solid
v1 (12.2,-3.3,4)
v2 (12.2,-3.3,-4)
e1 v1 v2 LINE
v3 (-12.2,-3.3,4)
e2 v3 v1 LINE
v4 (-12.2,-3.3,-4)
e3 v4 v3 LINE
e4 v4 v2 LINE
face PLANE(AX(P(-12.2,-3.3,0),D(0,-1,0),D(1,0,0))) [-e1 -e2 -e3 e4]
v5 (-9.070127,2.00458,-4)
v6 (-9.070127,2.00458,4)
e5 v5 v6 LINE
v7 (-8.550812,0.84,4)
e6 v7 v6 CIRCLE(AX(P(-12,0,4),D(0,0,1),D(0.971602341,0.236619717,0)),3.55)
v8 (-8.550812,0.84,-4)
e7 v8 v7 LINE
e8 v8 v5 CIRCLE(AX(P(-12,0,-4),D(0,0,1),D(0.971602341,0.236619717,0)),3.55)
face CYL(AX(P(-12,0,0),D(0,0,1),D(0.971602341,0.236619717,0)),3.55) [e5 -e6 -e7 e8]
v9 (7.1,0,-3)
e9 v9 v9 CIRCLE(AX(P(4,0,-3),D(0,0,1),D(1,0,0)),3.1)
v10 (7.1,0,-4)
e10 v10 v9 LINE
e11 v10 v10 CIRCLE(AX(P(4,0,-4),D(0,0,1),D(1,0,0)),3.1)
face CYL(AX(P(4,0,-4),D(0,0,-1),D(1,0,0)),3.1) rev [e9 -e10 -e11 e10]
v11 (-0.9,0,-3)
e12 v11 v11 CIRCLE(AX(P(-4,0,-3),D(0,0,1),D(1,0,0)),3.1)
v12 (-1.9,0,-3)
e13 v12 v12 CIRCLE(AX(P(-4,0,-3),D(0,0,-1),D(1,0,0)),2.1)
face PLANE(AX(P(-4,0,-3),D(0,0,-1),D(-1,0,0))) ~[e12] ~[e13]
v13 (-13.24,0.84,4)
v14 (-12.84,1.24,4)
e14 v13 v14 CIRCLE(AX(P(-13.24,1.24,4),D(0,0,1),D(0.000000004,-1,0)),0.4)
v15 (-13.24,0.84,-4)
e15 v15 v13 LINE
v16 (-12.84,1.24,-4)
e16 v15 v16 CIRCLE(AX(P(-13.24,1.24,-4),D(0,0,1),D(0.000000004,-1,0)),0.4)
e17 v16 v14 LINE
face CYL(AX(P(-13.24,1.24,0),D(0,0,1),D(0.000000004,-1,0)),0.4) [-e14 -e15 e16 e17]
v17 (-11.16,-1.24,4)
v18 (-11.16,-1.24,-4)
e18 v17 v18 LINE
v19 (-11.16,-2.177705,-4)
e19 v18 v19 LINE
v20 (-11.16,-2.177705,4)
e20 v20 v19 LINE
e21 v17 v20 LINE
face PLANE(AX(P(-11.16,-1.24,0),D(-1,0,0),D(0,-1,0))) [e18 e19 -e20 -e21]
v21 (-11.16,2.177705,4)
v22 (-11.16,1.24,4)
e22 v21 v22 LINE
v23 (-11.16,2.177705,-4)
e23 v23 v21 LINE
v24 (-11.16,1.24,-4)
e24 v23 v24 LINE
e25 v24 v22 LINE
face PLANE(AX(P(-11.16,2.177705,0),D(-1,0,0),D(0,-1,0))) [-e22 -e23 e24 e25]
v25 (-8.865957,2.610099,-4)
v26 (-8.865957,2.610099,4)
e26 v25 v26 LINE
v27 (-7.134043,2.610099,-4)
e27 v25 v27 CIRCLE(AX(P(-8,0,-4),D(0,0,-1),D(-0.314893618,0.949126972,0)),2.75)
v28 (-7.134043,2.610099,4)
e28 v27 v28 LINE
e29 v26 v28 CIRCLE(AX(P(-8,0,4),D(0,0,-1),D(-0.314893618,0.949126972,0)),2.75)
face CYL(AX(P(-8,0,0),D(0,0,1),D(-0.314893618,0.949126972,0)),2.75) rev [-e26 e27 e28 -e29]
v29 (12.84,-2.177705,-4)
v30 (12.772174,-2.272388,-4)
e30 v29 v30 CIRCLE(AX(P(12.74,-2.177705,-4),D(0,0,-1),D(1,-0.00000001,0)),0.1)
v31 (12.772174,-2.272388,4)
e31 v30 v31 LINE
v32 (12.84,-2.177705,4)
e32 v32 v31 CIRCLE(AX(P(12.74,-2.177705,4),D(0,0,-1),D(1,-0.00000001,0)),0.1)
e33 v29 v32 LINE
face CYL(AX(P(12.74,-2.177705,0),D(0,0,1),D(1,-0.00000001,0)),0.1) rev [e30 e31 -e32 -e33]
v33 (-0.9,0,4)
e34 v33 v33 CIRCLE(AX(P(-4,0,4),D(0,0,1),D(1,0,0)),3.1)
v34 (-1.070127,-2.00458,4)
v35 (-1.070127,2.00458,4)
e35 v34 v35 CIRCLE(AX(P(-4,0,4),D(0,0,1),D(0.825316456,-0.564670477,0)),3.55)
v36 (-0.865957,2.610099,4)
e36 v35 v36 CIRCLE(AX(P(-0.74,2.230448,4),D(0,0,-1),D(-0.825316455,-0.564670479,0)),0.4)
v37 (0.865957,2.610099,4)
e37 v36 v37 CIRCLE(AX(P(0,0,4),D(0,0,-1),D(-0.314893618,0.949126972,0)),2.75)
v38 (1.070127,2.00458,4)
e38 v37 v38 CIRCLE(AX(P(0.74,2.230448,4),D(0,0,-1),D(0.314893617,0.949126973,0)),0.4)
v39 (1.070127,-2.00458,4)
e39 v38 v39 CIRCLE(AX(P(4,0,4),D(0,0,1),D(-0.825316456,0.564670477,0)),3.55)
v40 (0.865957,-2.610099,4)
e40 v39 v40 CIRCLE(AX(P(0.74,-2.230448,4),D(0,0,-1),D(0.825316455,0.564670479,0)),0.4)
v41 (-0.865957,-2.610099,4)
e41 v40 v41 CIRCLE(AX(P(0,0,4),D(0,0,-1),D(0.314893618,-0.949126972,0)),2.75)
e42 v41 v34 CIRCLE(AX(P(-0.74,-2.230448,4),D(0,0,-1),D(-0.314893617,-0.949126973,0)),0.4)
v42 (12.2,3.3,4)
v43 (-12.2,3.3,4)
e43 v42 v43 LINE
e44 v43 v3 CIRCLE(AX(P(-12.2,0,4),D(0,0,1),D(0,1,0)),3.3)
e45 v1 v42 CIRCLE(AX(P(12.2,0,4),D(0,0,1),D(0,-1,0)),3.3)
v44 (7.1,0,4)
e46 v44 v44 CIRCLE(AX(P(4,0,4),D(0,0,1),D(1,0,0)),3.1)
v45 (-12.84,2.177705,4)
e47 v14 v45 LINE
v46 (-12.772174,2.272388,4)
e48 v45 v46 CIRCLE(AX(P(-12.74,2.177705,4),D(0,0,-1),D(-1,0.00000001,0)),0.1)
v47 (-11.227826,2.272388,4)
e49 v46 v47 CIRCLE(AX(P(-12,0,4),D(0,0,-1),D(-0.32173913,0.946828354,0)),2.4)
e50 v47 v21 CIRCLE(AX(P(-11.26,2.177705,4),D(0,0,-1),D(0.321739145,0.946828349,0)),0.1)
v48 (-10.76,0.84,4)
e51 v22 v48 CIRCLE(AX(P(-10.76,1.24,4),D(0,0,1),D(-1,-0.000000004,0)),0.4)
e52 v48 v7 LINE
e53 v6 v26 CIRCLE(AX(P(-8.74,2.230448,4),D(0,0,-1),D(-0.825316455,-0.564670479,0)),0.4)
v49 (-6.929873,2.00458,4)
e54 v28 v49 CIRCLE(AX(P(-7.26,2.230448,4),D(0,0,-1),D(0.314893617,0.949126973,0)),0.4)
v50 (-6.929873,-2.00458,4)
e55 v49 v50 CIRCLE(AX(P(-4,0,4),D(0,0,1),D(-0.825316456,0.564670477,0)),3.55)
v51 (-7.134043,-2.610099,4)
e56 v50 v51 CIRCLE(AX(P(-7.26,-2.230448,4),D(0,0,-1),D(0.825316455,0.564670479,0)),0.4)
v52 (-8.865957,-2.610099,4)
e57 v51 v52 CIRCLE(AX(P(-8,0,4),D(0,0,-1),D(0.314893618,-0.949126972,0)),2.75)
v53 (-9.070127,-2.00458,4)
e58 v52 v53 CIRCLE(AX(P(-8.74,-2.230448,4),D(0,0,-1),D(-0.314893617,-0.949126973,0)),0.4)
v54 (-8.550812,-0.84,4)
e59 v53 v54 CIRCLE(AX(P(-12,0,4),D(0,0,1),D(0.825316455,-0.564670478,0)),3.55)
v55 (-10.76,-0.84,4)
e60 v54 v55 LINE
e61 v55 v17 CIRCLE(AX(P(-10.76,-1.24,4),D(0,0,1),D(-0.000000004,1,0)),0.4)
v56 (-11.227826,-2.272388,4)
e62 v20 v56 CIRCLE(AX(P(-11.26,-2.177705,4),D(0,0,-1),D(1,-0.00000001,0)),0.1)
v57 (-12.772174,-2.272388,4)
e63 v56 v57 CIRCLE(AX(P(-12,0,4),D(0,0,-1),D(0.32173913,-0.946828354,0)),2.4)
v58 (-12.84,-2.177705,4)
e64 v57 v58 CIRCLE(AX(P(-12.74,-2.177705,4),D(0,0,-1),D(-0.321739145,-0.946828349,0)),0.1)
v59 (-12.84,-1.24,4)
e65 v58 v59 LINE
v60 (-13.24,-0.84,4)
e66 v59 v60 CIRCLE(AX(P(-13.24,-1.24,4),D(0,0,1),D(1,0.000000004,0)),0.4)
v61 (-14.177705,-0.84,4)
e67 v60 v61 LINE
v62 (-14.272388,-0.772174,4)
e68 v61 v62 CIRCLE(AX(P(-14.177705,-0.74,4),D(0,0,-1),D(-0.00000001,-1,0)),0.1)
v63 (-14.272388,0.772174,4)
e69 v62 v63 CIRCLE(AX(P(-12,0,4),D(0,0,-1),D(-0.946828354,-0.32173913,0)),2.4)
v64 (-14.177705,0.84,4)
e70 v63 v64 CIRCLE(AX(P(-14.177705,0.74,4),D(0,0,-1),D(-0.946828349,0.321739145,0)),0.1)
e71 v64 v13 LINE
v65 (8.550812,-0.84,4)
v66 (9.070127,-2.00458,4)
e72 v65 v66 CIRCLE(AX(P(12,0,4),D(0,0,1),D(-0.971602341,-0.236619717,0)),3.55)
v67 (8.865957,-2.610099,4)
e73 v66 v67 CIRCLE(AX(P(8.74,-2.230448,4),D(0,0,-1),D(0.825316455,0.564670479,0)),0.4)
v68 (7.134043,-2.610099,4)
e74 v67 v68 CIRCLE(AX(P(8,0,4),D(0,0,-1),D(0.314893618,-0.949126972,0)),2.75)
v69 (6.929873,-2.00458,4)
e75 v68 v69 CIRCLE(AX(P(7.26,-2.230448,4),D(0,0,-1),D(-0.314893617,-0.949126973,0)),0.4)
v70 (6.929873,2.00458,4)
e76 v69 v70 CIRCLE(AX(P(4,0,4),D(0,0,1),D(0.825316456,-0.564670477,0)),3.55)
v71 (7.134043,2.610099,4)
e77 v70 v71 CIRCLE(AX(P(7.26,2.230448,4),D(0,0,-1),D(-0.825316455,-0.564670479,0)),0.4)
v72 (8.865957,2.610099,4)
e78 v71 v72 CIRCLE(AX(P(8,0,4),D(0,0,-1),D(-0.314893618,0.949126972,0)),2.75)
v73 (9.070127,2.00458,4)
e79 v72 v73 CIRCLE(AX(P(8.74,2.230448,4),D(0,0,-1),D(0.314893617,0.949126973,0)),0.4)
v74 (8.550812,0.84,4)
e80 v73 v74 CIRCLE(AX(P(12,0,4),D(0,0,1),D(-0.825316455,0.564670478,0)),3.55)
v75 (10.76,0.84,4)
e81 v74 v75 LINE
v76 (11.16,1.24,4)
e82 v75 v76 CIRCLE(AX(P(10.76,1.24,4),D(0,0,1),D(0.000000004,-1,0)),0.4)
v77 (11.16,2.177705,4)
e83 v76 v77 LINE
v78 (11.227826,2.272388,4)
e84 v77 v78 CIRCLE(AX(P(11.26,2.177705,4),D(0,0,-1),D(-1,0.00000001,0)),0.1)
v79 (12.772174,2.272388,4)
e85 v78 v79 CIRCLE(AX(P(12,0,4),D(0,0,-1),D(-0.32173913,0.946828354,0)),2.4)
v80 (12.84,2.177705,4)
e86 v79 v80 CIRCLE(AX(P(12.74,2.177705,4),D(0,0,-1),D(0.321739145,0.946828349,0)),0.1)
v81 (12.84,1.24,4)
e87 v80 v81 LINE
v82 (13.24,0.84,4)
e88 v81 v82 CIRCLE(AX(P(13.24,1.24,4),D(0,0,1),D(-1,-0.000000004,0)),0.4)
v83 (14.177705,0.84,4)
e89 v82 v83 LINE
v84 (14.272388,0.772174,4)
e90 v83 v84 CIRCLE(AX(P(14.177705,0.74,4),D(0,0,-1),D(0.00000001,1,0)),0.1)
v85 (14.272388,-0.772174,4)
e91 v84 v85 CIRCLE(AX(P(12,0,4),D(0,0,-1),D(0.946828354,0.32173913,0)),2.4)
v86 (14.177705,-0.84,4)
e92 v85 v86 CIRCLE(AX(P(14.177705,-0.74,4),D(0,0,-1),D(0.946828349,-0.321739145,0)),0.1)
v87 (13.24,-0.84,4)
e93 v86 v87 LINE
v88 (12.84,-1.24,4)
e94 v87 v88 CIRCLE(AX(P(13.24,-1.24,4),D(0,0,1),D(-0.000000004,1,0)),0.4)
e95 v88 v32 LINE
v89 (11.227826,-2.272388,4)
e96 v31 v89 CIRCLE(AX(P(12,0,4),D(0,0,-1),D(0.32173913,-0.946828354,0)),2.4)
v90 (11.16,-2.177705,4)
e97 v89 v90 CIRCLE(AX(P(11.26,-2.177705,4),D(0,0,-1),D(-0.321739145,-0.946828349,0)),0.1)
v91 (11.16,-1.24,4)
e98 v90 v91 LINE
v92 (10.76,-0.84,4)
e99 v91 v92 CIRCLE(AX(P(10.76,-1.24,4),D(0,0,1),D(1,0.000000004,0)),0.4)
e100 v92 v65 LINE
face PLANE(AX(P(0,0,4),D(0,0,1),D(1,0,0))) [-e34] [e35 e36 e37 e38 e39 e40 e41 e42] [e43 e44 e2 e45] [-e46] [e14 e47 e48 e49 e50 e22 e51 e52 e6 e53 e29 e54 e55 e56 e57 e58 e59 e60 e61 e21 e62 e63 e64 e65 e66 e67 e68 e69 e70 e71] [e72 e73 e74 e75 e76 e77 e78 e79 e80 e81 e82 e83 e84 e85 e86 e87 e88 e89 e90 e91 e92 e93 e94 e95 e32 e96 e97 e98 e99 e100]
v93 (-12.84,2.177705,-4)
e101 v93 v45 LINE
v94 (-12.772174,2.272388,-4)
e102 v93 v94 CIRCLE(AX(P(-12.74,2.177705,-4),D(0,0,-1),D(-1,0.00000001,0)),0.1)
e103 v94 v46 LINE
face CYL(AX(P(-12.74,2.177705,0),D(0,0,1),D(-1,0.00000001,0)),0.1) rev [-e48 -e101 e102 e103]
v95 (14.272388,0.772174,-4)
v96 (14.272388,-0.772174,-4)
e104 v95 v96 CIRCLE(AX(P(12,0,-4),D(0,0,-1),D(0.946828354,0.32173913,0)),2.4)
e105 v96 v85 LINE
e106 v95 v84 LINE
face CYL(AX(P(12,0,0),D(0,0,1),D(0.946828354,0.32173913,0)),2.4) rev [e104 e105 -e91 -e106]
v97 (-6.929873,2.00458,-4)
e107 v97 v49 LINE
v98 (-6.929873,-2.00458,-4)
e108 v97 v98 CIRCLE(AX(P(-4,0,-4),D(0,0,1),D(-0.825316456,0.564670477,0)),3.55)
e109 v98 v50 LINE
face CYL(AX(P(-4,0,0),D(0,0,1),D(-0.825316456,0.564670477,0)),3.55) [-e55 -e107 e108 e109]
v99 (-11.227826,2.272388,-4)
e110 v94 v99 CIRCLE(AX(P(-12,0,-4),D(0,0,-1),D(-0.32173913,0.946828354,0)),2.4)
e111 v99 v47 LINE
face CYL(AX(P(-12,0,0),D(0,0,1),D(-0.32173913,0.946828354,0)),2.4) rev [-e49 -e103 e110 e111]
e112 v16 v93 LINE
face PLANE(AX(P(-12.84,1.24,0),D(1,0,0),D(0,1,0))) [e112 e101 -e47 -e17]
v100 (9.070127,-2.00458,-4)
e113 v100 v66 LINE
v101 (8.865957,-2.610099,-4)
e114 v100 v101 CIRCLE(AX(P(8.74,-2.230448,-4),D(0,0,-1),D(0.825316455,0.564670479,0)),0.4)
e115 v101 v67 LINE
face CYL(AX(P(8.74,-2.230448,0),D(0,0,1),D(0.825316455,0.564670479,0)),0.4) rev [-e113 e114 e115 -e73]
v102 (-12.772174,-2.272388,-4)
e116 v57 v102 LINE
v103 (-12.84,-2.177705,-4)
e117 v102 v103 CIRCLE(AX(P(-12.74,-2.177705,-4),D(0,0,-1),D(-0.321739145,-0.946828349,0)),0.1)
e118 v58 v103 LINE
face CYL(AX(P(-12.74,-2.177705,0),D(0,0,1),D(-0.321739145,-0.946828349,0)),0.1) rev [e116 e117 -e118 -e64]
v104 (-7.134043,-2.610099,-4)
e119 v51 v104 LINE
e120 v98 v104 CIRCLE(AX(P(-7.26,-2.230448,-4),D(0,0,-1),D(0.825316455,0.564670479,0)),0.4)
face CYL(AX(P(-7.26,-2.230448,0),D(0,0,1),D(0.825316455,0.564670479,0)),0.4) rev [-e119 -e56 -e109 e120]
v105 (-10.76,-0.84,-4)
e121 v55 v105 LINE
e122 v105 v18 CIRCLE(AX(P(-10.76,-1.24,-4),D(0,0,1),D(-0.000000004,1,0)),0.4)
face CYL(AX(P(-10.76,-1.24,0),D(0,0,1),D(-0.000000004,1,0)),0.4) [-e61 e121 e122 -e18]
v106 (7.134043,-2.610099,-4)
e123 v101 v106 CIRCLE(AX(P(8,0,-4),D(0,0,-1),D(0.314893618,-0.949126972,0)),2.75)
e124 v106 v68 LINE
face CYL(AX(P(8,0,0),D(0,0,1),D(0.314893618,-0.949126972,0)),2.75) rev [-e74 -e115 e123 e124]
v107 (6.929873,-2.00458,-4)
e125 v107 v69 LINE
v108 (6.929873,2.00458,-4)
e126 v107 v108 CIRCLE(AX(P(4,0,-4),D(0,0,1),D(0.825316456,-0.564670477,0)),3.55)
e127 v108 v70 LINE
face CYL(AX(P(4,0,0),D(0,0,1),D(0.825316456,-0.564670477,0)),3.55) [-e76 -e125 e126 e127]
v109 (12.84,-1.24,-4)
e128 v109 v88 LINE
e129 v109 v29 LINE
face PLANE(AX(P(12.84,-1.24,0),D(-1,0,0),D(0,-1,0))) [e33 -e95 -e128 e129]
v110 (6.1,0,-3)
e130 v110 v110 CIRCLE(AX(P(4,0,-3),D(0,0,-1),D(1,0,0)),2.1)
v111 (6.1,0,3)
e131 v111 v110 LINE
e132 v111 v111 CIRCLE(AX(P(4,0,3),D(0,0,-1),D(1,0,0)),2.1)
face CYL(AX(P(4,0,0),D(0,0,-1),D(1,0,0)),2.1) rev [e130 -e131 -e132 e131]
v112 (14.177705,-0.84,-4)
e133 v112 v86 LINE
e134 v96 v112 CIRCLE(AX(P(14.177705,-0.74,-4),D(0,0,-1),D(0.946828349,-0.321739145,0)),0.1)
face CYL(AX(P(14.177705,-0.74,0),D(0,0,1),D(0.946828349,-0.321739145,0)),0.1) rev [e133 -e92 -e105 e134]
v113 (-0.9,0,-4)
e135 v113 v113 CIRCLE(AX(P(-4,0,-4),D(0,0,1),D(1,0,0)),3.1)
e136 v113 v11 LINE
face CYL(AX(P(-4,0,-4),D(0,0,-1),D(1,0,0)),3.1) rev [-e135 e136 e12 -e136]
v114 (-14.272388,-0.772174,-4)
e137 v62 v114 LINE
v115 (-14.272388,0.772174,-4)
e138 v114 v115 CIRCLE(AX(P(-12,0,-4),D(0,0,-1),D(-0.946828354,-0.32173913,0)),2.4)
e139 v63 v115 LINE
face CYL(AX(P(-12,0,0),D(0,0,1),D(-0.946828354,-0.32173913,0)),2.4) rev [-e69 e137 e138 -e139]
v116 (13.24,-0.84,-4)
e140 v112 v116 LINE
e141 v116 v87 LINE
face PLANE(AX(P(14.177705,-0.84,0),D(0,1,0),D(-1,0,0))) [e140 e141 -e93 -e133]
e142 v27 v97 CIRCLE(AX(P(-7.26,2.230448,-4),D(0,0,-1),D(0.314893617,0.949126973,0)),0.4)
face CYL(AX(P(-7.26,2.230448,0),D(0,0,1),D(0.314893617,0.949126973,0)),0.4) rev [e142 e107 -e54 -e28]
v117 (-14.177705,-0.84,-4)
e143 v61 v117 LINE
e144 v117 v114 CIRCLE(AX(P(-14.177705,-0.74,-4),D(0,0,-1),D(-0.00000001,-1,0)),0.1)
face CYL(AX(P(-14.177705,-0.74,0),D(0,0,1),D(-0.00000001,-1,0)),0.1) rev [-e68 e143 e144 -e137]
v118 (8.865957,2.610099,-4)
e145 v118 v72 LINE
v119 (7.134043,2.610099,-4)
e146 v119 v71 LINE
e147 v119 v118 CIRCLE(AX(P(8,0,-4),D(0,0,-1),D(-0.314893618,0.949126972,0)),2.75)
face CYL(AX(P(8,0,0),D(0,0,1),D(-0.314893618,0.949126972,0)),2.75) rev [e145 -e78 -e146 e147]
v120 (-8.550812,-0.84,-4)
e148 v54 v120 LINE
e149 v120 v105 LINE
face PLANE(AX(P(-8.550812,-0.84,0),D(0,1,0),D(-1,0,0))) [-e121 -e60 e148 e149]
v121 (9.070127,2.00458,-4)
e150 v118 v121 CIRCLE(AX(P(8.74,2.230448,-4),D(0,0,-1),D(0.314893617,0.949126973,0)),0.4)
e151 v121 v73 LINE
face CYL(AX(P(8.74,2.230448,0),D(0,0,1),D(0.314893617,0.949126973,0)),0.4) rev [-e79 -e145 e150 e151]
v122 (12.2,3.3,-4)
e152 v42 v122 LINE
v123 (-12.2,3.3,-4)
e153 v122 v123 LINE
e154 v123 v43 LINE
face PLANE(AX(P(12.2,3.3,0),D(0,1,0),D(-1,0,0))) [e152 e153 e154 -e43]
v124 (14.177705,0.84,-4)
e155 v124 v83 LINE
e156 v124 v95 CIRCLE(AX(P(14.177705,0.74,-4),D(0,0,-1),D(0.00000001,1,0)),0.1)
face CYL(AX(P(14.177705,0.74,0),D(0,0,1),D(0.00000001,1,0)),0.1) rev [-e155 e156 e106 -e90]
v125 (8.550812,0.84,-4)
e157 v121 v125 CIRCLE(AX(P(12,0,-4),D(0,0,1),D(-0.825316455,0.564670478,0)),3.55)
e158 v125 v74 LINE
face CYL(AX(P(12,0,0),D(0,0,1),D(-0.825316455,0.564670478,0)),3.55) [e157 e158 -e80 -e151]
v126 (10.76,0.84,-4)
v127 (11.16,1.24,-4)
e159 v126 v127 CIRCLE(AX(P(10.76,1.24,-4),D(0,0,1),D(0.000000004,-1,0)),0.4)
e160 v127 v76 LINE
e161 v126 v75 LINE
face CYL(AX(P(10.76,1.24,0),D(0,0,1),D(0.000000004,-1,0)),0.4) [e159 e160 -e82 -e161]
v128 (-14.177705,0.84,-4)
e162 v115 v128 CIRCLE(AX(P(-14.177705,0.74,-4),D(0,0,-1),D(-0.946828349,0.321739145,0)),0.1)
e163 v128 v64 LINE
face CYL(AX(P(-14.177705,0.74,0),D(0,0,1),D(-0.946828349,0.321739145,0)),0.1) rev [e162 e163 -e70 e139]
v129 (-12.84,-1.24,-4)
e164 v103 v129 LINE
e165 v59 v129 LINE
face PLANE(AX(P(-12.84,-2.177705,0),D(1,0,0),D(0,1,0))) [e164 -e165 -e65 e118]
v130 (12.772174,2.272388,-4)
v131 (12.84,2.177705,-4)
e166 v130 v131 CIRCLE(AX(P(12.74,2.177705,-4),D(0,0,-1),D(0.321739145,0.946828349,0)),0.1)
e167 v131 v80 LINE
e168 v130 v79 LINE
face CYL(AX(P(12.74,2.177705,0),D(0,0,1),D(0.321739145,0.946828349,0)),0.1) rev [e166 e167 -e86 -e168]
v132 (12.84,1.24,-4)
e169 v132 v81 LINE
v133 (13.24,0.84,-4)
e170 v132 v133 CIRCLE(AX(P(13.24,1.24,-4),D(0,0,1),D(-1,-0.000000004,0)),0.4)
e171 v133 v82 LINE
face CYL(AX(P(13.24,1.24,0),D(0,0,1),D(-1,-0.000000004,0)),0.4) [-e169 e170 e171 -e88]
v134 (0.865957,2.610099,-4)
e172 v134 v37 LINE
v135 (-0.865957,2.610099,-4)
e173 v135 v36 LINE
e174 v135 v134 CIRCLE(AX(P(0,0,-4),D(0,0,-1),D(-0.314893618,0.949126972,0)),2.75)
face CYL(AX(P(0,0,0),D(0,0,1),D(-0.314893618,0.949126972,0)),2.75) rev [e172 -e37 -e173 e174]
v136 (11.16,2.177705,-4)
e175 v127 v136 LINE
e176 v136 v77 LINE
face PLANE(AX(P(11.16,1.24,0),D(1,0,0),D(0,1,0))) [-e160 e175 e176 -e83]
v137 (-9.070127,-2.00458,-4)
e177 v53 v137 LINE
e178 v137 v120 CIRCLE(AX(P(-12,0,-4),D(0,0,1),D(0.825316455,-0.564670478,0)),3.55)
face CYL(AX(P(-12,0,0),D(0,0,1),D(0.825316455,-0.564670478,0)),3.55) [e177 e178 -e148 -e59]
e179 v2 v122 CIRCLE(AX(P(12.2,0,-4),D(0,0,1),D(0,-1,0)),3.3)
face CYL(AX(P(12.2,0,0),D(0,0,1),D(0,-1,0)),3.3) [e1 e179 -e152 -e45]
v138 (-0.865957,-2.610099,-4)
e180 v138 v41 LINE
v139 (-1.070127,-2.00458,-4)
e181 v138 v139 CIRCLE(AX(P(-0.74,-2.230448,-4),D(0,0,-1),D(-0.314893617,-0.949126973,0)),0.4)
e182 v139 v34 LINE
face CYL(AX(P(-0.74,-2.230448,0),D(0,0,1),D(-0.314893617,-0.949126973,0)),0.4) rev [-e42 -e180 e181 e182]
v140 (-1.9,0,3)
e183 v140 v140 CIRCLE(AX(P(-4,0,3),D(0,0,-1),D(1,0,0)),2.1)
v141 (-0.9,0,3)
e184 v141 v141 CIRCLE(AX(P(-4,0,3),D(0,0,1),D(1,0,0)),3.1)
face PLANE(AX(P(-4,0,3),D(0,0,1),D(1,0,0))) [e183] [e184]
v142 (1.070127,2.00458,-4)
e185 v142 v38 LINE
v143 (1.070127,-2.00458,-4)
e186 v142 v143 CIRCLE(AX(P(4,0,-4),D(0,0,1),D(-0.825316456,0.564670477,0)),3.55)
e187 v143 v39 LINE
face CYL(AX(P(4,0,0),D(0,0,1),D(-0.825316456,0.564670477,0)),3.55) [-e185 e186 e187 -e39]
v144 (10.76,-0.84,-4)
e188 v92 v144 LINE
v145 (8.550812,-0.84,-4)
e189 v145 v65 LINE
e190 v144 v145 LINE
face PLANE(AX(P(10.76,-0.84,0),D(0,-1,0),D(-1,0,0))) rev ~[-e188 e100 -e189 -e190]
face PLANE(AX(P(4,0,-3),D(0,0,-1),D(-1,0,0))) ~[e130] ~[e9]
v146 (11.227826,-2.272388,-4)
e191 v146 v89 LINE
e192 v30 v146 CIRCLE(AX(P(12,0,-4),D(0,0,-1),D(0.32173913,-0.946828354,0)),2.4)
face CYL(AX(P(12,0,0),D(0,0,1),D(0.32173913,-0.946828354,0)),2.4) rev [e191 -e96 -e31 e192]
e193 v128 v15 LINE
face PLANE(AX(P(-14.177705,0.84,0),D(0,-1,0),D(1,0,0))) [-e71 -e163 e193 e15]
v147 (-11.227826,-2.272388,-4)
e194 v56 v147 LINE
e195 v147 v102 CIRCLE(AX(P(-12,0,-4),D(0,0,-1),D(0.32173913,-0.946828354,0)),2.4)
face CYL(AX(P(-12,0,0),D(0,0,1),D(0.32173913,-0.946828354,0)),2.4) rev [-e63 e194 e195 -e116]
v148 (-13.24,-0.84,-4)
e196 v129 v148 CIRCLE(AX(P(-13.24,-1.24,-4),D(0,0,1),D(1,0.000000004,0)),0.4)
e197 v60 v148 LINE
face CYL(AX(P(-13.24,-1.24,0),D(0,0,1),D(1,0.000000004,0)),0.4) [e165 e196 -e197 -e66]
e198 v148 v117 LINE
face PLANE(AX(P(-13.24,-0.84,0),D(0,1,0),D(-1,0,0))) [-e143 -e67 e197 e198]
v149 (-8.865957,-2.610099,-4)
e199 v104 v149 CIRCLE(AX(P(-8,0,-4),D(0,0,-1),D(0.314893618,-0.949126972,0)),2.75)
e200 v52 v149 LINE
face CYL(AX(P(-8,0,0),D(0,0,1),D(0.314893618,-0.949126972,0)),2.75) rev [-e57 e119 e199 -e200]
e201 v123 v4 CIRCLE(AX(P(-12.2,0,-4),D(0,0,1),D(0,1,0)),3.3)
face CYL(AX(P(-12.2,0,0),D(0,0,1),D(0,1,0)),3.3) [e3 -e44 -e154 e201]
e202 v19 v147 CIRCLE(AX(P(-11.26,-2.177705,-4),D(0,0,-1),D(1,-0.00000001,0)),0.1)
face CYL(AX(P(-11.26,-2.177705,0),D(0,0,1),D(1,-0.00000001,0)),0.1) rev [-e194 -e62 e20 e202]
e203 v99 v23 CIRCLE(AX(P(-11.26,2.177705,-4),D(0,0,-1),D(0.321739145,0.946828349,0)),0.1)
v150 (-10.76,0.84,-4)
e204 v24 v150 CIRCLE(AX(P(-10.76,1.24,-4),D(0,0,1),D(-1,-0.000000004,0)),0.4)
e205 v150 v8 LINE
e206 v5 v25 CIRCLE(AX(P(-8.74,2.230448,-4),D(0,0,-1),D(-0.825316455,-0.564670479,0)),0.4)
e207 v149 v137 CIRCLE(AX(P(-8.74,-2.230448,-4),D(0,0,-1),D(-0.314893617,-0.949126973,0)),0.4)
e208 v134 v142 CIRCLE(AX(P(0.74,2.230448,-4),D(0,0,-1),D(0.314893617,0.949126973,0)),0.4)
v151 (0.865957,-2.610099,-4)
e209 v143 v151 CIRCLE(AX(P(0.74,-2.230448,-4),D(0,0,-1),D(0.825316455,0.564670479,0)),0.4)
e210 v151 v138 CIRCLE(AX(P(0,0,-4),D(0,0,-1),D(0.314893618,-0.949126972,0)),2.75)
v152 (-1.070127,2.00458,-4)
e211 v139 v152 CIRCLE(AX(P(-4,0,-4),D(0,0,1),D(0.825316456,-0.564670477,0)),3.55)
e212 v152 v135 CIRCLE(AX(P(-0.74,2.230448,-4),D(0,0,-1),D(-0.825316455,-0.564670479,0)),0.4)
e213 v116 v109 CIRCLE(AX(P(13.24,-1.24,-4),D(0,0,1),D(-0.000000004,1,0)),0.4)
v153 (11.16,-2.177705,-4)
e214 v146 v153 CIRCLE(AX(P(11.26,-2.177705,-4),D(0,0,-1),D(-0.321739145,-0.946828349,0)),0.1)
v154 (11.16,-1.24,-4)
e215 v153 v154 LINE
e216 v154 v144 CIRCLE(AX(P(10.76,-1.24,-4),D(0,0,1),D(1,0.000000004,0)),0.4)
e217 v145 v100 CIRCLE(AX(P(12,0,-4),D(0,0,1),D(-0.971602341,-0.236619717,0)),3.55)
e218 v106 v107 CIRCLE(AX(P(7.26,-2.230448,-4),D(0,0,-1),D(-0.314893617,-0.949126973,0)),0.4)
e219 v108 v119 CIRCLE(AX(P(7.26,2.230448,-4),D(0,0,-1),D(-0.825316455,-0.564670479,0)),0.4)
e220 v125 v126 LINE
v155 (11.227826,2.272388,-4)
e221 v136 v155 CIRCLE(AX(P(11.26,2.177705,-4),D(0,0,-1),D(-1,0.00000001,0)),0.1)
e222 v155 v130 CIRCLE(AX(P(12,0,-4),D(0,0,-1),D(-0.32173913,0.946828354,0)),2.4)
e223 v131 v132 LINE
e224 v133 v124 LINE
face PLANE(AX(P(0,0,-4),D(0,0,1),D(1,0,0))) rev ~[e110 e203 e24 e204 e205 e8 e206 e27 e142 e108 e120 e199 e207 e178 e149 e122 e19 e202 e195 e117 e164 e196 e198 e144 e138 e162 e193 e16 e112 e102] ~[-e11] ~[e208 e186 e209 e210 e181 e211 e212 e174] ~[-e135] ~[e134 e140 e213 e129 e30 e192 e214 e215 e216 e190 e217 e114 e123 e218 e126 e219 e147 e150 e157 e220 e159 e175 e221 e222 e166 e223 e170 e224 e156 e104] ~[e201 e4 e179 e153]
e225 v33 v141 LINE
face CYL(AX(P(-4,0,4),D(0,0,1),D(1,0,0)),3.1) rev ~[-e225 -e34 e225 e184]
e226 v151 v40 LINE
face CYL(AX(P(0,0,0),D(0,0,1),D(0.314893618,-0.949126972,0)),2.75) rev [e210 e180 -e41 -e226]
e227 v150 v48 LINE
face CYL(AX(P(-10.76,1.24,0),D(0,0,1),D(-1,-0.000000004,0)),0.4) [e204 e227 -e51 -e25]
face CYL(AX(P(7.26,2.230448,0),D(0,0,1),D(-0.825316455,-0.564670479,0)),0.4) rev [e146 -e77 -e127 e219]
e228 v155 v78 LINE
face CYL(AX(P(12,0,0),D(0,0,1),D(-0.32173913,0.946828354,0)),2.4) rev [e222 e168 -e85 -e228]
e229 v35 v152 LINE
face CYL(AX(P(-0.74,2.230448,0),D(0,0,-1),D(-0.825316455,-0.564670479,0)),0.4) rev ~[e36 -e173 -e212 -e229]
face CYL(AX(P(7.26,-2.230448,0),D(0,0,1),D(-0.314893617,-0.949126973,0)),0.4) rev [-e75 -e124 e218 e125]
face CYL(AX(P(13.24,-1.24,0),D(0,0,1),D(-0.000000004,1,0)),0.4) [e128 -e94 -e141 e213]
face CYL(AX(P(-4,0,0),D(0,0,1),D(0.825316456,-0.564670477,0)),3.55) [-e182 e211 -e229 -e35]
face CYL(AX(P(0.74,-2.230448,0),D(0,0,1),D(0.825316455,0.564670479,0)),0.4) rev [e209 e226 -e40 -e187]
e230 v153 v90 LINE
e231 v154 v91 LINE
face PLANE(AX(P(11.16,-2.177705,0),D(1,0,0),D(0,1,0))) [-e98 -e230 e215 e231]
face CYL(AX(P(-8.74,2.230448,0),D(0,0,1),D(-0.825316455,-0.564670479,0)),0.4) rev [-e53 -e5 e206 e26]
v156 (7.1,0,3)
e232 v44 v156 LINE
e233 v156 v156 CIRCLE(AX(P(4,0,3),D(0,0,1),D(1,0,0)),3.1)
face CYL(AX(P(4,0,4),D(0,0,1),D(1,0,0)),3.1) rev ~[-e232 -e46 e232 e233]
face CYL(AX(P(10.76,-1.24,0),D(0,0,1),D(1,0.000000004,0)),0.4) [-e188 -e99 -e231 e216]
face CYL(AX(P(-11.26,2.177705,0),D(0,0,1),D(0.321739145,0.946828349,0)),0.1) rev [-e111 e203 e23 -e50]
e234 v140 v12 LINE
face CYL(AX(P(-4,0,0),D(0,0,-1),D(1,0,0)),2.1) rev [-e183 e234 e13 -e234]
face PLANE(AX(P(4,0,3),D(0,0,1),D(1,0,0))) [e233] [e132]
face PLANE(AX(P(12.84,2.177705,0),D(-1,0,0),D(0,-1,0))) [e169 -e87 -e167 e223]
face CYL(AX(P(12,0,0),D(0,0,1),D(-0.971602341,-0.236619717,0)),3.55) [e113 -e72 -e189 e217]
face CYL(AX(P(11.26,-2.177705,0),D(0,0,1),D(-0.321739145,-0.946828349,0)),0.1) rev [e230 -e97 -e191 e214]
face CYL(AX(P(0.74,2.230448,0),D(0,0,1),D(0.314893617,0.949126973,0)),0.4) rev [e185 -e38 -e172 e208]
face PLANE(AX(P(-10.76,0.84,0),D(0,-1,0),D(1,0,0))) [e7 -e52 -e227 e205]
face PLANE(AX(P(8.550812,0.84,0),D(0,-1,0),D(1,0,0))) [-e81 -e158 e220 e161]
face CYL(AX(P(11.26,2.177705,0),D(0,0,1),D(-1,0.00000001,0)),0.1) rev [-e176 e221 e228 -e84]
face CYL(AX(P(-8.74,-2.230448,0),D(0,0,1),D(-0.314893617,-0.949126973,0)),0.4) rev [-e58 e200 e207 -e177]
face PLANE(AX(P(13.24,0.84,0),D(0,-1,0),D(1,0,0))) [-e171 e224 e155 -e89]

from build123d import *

# Parameters (mm, degrees)
SKETCH1_R           = 2.1
BOSS_EXTRUDE1_DEPTH = 4
SKETCH2_R           = 3.1
CUT_EXTRUDE1_DEPTH  = 1


with BuildPart() as part:
    # Sketch1 → Boss-Extrude1 (new, symmetric)
    with BuildSketch(Plane.XY):
        with BuildLine():
            Line((12.2, 3.3), (-12.2, 3.3))
            ThreePointArc((-12.2, 3.3), (-15.5, 0), (-12.2, -3.3))
            Line((-12.2, -3.3), (12.2, -3.3))
            ThreePointArc((12.2, -3.3), (15.5, 0), (12.2, 3.3))
        make_face()
        with BuildLine():
            Line((-14.177705214, 0.84), (-13.24, 0.84))
            ThreePointArc((-13.24, 0.84), (-12.957157288, 0.957157288), (-12.84, 1.24))
            Line((-12.84, 1.24), (-12.84, 2.177705214))
            ThreePointArc((-12.84, 2.177705214), (-12.821293884, 2.235940121), (-12.772173913, 2.27238805))
            ThreePointArc((-12.772173913, 2.27238805), (-12, 2.4), (-11.227826087, 2.27238805))
            ThreePointArc((-11.227826087, 2.27238805), (-11.178706116, 2.235940121), (-11.16, 2.177705214))
            Line((-11.16, 2.177705214), (-11.16, 1.24))
            ThreePointArc((-11.16, 1.24), (-11.042842712, 0.957157288), (-10.76, 0.84))
            Line((-10.76, 0.84), (-9.822294786, 0.84))
            Line((-9.822294786, 0.84), (-9.751800721, 0.84))
            Line((-9.751800721, 0.84), (-8.55081169, 0.84))
            ThreePointArc((-8.55081169, 0.84), (-8.757752494, 1.445797742), (-9.070126582, 2.004580194))
            ThreePointArc((-9.070126582, 2.004580194), (-9.119033599, 2.358251088), (-8.865957447, 2.610099174))
            ThreePointArc((-8.865957447, 2.610099174), (-8, 2.75), (-7.134042553, 2.610099174))
            ThreePointArc((-7.134042553, 2.610099174), (-6.880966401, 2.358251088), (-6.929873418, 2.004580194))
            ThreePointArc((-6.929873418, 2.004580194), (-7.55, 0), (-6.929873418, -2.004580194))
            ThreePointArc((-6.929873418, -2.004580194), (-6.880966401, -2.358251088), (-7.134042553, -2.610099174))
            ThreePointArc((-7.134042553, -2.610099174), (-8, -2.75), (-8.865957447, -2.610099174))
            ThreePointArc((-8.865957447, -2.610099174), (-9.119033599, -2.358251088), (-9.070126582, -2.004580194))
            ThreePointArc((-9.070126582, -2.004580194), (-8.757752494, -1.445797742), (-8.55081169, -0.84))
            Line((-8.55081169, -0.84), (-9.751800721, -0.84))
            Line((-9.751800721, -0.84), (-9.822294786, -0.84))
            Line((-9.822294786, -0.84), (-10.76, -0.84))
            ThreePointArc((-10.76, -0.84), (-11.042842712, -0.957157288), (-11.16, -1.24))
            Line((-11.16, -1.24), (-11.16, -2.177705214))
            ThreePointArc((-11.16, -2.177705214), (-11.178706116, -2.235940121), (-11.227826087, -2.27238805))
            ThreePointArc((-11.227826087, -2.27238805), (-12, -2.4), (-12.772173913, -2.27238805))
            ThreePointArc((-12.772173913, -2.27238805), (-12.821293884, -2.235940121), (-12.84, -2.177705214))
            Line((-12.84, -2.177705214), (-12.84, -1.24))
            ThreePointArc((-12.84, -1.24), (-12.957157288, -0.957157288), (-13.24, -0.84))
            Line((-13.24, -0.84), (-14.177705214, -0.84))
            ThreePointArc((-14.177705214, -0.84), (-14.235940121, -0.821293884), (-14.27238805, -0.772173913))
            ThreePointArc((-14.27238805, -0.772173913), (-14.4, 0), (-14.27238805, 0.772173913))
            ThreePointArc((-14.27238805, 0.772173913), (-14.235940121, 0.821293884), (-14.177705214, 0.84))
        make_face(mode=Mode.SUBTRACT)
        with BuildLine():
            ThreePointArc((0.865957447, -2.610099174), (0, -2.75), (-0.865957447, -2.610099174))
            ThreePointArc((-0.865957447, -2.610099174), (-1.119033599, -2.358251088), (-1.070126582, -2.004580194))
            ThreePointArc((-1.070126582, -2.004580194), (-0.45, 0), (-1.070126582, 2.004580194))
            ThreePointArc((-1.070126582, 2.004580194), (-1.119033599, 2.358251088), (-0.865957447, 2.610099174))
            ThreePointArc((-0.865957447, 2.610099174), (0, 2.75), (0.865957447, 2.610099174))
            ThreePointArc((0.865957447, 2.610099174), (1.119033599, 2.358251088), (1.070126582, 2.004580194))
            ThreePointArc((1.070126582, 2.004580194), (0.45, 0), (1.070126582, -2.004580194))
            ThreePointArc((1.070126582, -2.004580194), (1.119033599, -2.358251088), (0.865957447, -2.610099174))
        make_face(mode=Mode.SUBTRACT)
        with BuildLine():
            Line((12.84, 2.177705214), (12.84, 1.24))
            ThreePointArc((12.84, 1.24), (12.957157288, 0.957157288), (13.24, 0.84))
            Line((13.24, 0.84), (14.177705214, 0.84))
            ThreePointArc((14.177705214, 0.84), (14.235940121, 0.821293884), (14.27238805, 0.772173913))
            ThreePointArc((14.27238805, 0.772173913), (14.4, 0), (14.27238805, -0.772173913))
            ThreePointArc((14.27238805, -0.772173913), (14.235940121, -0.821293884), (14.177705214, -0.84))
            Line((14.177705214, -0.84), (13.24, -0.84))
            ThreePointArc((13.24, -0.84), (12.957157288, -0.957157288), (12.84, -1.24))
            Line((12.84, -1.24), (12.84, -2.177705214))
            ThreePointArc((12.84, -2.177705214), (12.821293884, -2.235940121), (12.772173913, -2.27238805))
            ThreePointArc((12.772173913, -2.27238805), (12, -2.4), (11.227826087, -2.27238805))
            ThreePointArc((11.227826087, -2.27238805), (11.178706116, -2.235940121), (11.16, -2.177705214))
            Line((11.16, -2.177705214), (11.16, -1.24))
            ThreePointArc((11.16, -1.24), (11.042842712, -0.957157288), (10.76, -0.84))
            Line((10.76, -0.84), (9.822294786, -0.84))
            Line((9.822294786, -0.84), (9.751800721, -0.84))
            Line((9.751800721, -0.84), (8.55081169, -0.84))
            ThreePointArc((8.55081169, -0.84), (8.757752494, -1.445797742), (9.070126582, -2.004580194))
            ThreePointArc((9.070126582, -2.004580194), (9.119033599, -2.358251088), (8.865957447, -2.610099174))
            ThreePointArc((8.865957447, -2.610099174), (8, -2.75), (7.134042553, -2.610099174))
            ThreePointArc((7.134042553, -2.610099174), (6.880966401, -2.358251088), (6.929873418, -2.004580194))
            ThreePointArc((6.929873418, -2.004580194), (7.55, 0), (6.929873418, 2.004580194))
            ThreePointArc((6.929873418, 2.004580194), (6.880966401, 2.358251088), (7.134042553, 2.610099174))
            ThreePointArc((7.134042553, 2.610099174), (8, 2.75), (8.865957447, 2.610099174))
            ThreePointArc((8.865957447, 2.610099174), (9.119033599, 2.358251088), (9.070126582, 2.004580194))
            ThreePointArc((9.070126582, 2.004580194), (8.757752494, 1.445797742), (8.55081169, 0.84))
            Line((8.55081169, 0.84), (9.751800721, 0.84))
            Line((9.751800721, 0.84), (9.822294786, 0.84))
            Line((9.822294786, 0.84), (10.76, 0.84))
            ThreePointArc((10.76, 0.84), (11.042842712, 0.957157288), (11.16, 1.24))
            Line((11.16, 1.24), (11.16, 2.177705214))
            ThreePointArc((11.16, 2.177705214), (11.178706116, 2.235940121), (11.227826087, 2.27238805))
            ThreePointArc((11.227826087, 2.27238805), (12, 2.4), (12.772173913, 2.27238805))
            ThreePointArc((12.772173913, 2.27238805), (12.821293884, 2.235940121), (12.84, 2.177705214))
        make_face(mode=Mode.SUBTRACT)
        with Locations((-4, 0)):
            Circle(SKETCH1_R, mode=Mode.SUBTRACT)
        with Locations((4, 0)):
            Circle(SKETCH1_R, mode=Mode.SUBTRACT)
    extrude(amount=BOSS_EXTRUDE1_DEPTH, both=True)

    # Sketch2 → Cut-Extrude1 (cut)
    with BuildSketch(Plane.XY.offset(4)):
        with Locations((-4, 0)):
            Circle(SKETCH2_R)
        with Locations((4, 0)):
            Circle(SKETCH2_R)
    cut_extrude1 = extrude(amount=-CUT_EXTRUDE1_DEPTH, mode=Mode.SUBTRACT)

    # Mirror1: Cut-Extrude1 across plane
    add(cut_extrude1.mirror(Plane.XY), mode=Mode.SUBTRACT)


solid = part.part
